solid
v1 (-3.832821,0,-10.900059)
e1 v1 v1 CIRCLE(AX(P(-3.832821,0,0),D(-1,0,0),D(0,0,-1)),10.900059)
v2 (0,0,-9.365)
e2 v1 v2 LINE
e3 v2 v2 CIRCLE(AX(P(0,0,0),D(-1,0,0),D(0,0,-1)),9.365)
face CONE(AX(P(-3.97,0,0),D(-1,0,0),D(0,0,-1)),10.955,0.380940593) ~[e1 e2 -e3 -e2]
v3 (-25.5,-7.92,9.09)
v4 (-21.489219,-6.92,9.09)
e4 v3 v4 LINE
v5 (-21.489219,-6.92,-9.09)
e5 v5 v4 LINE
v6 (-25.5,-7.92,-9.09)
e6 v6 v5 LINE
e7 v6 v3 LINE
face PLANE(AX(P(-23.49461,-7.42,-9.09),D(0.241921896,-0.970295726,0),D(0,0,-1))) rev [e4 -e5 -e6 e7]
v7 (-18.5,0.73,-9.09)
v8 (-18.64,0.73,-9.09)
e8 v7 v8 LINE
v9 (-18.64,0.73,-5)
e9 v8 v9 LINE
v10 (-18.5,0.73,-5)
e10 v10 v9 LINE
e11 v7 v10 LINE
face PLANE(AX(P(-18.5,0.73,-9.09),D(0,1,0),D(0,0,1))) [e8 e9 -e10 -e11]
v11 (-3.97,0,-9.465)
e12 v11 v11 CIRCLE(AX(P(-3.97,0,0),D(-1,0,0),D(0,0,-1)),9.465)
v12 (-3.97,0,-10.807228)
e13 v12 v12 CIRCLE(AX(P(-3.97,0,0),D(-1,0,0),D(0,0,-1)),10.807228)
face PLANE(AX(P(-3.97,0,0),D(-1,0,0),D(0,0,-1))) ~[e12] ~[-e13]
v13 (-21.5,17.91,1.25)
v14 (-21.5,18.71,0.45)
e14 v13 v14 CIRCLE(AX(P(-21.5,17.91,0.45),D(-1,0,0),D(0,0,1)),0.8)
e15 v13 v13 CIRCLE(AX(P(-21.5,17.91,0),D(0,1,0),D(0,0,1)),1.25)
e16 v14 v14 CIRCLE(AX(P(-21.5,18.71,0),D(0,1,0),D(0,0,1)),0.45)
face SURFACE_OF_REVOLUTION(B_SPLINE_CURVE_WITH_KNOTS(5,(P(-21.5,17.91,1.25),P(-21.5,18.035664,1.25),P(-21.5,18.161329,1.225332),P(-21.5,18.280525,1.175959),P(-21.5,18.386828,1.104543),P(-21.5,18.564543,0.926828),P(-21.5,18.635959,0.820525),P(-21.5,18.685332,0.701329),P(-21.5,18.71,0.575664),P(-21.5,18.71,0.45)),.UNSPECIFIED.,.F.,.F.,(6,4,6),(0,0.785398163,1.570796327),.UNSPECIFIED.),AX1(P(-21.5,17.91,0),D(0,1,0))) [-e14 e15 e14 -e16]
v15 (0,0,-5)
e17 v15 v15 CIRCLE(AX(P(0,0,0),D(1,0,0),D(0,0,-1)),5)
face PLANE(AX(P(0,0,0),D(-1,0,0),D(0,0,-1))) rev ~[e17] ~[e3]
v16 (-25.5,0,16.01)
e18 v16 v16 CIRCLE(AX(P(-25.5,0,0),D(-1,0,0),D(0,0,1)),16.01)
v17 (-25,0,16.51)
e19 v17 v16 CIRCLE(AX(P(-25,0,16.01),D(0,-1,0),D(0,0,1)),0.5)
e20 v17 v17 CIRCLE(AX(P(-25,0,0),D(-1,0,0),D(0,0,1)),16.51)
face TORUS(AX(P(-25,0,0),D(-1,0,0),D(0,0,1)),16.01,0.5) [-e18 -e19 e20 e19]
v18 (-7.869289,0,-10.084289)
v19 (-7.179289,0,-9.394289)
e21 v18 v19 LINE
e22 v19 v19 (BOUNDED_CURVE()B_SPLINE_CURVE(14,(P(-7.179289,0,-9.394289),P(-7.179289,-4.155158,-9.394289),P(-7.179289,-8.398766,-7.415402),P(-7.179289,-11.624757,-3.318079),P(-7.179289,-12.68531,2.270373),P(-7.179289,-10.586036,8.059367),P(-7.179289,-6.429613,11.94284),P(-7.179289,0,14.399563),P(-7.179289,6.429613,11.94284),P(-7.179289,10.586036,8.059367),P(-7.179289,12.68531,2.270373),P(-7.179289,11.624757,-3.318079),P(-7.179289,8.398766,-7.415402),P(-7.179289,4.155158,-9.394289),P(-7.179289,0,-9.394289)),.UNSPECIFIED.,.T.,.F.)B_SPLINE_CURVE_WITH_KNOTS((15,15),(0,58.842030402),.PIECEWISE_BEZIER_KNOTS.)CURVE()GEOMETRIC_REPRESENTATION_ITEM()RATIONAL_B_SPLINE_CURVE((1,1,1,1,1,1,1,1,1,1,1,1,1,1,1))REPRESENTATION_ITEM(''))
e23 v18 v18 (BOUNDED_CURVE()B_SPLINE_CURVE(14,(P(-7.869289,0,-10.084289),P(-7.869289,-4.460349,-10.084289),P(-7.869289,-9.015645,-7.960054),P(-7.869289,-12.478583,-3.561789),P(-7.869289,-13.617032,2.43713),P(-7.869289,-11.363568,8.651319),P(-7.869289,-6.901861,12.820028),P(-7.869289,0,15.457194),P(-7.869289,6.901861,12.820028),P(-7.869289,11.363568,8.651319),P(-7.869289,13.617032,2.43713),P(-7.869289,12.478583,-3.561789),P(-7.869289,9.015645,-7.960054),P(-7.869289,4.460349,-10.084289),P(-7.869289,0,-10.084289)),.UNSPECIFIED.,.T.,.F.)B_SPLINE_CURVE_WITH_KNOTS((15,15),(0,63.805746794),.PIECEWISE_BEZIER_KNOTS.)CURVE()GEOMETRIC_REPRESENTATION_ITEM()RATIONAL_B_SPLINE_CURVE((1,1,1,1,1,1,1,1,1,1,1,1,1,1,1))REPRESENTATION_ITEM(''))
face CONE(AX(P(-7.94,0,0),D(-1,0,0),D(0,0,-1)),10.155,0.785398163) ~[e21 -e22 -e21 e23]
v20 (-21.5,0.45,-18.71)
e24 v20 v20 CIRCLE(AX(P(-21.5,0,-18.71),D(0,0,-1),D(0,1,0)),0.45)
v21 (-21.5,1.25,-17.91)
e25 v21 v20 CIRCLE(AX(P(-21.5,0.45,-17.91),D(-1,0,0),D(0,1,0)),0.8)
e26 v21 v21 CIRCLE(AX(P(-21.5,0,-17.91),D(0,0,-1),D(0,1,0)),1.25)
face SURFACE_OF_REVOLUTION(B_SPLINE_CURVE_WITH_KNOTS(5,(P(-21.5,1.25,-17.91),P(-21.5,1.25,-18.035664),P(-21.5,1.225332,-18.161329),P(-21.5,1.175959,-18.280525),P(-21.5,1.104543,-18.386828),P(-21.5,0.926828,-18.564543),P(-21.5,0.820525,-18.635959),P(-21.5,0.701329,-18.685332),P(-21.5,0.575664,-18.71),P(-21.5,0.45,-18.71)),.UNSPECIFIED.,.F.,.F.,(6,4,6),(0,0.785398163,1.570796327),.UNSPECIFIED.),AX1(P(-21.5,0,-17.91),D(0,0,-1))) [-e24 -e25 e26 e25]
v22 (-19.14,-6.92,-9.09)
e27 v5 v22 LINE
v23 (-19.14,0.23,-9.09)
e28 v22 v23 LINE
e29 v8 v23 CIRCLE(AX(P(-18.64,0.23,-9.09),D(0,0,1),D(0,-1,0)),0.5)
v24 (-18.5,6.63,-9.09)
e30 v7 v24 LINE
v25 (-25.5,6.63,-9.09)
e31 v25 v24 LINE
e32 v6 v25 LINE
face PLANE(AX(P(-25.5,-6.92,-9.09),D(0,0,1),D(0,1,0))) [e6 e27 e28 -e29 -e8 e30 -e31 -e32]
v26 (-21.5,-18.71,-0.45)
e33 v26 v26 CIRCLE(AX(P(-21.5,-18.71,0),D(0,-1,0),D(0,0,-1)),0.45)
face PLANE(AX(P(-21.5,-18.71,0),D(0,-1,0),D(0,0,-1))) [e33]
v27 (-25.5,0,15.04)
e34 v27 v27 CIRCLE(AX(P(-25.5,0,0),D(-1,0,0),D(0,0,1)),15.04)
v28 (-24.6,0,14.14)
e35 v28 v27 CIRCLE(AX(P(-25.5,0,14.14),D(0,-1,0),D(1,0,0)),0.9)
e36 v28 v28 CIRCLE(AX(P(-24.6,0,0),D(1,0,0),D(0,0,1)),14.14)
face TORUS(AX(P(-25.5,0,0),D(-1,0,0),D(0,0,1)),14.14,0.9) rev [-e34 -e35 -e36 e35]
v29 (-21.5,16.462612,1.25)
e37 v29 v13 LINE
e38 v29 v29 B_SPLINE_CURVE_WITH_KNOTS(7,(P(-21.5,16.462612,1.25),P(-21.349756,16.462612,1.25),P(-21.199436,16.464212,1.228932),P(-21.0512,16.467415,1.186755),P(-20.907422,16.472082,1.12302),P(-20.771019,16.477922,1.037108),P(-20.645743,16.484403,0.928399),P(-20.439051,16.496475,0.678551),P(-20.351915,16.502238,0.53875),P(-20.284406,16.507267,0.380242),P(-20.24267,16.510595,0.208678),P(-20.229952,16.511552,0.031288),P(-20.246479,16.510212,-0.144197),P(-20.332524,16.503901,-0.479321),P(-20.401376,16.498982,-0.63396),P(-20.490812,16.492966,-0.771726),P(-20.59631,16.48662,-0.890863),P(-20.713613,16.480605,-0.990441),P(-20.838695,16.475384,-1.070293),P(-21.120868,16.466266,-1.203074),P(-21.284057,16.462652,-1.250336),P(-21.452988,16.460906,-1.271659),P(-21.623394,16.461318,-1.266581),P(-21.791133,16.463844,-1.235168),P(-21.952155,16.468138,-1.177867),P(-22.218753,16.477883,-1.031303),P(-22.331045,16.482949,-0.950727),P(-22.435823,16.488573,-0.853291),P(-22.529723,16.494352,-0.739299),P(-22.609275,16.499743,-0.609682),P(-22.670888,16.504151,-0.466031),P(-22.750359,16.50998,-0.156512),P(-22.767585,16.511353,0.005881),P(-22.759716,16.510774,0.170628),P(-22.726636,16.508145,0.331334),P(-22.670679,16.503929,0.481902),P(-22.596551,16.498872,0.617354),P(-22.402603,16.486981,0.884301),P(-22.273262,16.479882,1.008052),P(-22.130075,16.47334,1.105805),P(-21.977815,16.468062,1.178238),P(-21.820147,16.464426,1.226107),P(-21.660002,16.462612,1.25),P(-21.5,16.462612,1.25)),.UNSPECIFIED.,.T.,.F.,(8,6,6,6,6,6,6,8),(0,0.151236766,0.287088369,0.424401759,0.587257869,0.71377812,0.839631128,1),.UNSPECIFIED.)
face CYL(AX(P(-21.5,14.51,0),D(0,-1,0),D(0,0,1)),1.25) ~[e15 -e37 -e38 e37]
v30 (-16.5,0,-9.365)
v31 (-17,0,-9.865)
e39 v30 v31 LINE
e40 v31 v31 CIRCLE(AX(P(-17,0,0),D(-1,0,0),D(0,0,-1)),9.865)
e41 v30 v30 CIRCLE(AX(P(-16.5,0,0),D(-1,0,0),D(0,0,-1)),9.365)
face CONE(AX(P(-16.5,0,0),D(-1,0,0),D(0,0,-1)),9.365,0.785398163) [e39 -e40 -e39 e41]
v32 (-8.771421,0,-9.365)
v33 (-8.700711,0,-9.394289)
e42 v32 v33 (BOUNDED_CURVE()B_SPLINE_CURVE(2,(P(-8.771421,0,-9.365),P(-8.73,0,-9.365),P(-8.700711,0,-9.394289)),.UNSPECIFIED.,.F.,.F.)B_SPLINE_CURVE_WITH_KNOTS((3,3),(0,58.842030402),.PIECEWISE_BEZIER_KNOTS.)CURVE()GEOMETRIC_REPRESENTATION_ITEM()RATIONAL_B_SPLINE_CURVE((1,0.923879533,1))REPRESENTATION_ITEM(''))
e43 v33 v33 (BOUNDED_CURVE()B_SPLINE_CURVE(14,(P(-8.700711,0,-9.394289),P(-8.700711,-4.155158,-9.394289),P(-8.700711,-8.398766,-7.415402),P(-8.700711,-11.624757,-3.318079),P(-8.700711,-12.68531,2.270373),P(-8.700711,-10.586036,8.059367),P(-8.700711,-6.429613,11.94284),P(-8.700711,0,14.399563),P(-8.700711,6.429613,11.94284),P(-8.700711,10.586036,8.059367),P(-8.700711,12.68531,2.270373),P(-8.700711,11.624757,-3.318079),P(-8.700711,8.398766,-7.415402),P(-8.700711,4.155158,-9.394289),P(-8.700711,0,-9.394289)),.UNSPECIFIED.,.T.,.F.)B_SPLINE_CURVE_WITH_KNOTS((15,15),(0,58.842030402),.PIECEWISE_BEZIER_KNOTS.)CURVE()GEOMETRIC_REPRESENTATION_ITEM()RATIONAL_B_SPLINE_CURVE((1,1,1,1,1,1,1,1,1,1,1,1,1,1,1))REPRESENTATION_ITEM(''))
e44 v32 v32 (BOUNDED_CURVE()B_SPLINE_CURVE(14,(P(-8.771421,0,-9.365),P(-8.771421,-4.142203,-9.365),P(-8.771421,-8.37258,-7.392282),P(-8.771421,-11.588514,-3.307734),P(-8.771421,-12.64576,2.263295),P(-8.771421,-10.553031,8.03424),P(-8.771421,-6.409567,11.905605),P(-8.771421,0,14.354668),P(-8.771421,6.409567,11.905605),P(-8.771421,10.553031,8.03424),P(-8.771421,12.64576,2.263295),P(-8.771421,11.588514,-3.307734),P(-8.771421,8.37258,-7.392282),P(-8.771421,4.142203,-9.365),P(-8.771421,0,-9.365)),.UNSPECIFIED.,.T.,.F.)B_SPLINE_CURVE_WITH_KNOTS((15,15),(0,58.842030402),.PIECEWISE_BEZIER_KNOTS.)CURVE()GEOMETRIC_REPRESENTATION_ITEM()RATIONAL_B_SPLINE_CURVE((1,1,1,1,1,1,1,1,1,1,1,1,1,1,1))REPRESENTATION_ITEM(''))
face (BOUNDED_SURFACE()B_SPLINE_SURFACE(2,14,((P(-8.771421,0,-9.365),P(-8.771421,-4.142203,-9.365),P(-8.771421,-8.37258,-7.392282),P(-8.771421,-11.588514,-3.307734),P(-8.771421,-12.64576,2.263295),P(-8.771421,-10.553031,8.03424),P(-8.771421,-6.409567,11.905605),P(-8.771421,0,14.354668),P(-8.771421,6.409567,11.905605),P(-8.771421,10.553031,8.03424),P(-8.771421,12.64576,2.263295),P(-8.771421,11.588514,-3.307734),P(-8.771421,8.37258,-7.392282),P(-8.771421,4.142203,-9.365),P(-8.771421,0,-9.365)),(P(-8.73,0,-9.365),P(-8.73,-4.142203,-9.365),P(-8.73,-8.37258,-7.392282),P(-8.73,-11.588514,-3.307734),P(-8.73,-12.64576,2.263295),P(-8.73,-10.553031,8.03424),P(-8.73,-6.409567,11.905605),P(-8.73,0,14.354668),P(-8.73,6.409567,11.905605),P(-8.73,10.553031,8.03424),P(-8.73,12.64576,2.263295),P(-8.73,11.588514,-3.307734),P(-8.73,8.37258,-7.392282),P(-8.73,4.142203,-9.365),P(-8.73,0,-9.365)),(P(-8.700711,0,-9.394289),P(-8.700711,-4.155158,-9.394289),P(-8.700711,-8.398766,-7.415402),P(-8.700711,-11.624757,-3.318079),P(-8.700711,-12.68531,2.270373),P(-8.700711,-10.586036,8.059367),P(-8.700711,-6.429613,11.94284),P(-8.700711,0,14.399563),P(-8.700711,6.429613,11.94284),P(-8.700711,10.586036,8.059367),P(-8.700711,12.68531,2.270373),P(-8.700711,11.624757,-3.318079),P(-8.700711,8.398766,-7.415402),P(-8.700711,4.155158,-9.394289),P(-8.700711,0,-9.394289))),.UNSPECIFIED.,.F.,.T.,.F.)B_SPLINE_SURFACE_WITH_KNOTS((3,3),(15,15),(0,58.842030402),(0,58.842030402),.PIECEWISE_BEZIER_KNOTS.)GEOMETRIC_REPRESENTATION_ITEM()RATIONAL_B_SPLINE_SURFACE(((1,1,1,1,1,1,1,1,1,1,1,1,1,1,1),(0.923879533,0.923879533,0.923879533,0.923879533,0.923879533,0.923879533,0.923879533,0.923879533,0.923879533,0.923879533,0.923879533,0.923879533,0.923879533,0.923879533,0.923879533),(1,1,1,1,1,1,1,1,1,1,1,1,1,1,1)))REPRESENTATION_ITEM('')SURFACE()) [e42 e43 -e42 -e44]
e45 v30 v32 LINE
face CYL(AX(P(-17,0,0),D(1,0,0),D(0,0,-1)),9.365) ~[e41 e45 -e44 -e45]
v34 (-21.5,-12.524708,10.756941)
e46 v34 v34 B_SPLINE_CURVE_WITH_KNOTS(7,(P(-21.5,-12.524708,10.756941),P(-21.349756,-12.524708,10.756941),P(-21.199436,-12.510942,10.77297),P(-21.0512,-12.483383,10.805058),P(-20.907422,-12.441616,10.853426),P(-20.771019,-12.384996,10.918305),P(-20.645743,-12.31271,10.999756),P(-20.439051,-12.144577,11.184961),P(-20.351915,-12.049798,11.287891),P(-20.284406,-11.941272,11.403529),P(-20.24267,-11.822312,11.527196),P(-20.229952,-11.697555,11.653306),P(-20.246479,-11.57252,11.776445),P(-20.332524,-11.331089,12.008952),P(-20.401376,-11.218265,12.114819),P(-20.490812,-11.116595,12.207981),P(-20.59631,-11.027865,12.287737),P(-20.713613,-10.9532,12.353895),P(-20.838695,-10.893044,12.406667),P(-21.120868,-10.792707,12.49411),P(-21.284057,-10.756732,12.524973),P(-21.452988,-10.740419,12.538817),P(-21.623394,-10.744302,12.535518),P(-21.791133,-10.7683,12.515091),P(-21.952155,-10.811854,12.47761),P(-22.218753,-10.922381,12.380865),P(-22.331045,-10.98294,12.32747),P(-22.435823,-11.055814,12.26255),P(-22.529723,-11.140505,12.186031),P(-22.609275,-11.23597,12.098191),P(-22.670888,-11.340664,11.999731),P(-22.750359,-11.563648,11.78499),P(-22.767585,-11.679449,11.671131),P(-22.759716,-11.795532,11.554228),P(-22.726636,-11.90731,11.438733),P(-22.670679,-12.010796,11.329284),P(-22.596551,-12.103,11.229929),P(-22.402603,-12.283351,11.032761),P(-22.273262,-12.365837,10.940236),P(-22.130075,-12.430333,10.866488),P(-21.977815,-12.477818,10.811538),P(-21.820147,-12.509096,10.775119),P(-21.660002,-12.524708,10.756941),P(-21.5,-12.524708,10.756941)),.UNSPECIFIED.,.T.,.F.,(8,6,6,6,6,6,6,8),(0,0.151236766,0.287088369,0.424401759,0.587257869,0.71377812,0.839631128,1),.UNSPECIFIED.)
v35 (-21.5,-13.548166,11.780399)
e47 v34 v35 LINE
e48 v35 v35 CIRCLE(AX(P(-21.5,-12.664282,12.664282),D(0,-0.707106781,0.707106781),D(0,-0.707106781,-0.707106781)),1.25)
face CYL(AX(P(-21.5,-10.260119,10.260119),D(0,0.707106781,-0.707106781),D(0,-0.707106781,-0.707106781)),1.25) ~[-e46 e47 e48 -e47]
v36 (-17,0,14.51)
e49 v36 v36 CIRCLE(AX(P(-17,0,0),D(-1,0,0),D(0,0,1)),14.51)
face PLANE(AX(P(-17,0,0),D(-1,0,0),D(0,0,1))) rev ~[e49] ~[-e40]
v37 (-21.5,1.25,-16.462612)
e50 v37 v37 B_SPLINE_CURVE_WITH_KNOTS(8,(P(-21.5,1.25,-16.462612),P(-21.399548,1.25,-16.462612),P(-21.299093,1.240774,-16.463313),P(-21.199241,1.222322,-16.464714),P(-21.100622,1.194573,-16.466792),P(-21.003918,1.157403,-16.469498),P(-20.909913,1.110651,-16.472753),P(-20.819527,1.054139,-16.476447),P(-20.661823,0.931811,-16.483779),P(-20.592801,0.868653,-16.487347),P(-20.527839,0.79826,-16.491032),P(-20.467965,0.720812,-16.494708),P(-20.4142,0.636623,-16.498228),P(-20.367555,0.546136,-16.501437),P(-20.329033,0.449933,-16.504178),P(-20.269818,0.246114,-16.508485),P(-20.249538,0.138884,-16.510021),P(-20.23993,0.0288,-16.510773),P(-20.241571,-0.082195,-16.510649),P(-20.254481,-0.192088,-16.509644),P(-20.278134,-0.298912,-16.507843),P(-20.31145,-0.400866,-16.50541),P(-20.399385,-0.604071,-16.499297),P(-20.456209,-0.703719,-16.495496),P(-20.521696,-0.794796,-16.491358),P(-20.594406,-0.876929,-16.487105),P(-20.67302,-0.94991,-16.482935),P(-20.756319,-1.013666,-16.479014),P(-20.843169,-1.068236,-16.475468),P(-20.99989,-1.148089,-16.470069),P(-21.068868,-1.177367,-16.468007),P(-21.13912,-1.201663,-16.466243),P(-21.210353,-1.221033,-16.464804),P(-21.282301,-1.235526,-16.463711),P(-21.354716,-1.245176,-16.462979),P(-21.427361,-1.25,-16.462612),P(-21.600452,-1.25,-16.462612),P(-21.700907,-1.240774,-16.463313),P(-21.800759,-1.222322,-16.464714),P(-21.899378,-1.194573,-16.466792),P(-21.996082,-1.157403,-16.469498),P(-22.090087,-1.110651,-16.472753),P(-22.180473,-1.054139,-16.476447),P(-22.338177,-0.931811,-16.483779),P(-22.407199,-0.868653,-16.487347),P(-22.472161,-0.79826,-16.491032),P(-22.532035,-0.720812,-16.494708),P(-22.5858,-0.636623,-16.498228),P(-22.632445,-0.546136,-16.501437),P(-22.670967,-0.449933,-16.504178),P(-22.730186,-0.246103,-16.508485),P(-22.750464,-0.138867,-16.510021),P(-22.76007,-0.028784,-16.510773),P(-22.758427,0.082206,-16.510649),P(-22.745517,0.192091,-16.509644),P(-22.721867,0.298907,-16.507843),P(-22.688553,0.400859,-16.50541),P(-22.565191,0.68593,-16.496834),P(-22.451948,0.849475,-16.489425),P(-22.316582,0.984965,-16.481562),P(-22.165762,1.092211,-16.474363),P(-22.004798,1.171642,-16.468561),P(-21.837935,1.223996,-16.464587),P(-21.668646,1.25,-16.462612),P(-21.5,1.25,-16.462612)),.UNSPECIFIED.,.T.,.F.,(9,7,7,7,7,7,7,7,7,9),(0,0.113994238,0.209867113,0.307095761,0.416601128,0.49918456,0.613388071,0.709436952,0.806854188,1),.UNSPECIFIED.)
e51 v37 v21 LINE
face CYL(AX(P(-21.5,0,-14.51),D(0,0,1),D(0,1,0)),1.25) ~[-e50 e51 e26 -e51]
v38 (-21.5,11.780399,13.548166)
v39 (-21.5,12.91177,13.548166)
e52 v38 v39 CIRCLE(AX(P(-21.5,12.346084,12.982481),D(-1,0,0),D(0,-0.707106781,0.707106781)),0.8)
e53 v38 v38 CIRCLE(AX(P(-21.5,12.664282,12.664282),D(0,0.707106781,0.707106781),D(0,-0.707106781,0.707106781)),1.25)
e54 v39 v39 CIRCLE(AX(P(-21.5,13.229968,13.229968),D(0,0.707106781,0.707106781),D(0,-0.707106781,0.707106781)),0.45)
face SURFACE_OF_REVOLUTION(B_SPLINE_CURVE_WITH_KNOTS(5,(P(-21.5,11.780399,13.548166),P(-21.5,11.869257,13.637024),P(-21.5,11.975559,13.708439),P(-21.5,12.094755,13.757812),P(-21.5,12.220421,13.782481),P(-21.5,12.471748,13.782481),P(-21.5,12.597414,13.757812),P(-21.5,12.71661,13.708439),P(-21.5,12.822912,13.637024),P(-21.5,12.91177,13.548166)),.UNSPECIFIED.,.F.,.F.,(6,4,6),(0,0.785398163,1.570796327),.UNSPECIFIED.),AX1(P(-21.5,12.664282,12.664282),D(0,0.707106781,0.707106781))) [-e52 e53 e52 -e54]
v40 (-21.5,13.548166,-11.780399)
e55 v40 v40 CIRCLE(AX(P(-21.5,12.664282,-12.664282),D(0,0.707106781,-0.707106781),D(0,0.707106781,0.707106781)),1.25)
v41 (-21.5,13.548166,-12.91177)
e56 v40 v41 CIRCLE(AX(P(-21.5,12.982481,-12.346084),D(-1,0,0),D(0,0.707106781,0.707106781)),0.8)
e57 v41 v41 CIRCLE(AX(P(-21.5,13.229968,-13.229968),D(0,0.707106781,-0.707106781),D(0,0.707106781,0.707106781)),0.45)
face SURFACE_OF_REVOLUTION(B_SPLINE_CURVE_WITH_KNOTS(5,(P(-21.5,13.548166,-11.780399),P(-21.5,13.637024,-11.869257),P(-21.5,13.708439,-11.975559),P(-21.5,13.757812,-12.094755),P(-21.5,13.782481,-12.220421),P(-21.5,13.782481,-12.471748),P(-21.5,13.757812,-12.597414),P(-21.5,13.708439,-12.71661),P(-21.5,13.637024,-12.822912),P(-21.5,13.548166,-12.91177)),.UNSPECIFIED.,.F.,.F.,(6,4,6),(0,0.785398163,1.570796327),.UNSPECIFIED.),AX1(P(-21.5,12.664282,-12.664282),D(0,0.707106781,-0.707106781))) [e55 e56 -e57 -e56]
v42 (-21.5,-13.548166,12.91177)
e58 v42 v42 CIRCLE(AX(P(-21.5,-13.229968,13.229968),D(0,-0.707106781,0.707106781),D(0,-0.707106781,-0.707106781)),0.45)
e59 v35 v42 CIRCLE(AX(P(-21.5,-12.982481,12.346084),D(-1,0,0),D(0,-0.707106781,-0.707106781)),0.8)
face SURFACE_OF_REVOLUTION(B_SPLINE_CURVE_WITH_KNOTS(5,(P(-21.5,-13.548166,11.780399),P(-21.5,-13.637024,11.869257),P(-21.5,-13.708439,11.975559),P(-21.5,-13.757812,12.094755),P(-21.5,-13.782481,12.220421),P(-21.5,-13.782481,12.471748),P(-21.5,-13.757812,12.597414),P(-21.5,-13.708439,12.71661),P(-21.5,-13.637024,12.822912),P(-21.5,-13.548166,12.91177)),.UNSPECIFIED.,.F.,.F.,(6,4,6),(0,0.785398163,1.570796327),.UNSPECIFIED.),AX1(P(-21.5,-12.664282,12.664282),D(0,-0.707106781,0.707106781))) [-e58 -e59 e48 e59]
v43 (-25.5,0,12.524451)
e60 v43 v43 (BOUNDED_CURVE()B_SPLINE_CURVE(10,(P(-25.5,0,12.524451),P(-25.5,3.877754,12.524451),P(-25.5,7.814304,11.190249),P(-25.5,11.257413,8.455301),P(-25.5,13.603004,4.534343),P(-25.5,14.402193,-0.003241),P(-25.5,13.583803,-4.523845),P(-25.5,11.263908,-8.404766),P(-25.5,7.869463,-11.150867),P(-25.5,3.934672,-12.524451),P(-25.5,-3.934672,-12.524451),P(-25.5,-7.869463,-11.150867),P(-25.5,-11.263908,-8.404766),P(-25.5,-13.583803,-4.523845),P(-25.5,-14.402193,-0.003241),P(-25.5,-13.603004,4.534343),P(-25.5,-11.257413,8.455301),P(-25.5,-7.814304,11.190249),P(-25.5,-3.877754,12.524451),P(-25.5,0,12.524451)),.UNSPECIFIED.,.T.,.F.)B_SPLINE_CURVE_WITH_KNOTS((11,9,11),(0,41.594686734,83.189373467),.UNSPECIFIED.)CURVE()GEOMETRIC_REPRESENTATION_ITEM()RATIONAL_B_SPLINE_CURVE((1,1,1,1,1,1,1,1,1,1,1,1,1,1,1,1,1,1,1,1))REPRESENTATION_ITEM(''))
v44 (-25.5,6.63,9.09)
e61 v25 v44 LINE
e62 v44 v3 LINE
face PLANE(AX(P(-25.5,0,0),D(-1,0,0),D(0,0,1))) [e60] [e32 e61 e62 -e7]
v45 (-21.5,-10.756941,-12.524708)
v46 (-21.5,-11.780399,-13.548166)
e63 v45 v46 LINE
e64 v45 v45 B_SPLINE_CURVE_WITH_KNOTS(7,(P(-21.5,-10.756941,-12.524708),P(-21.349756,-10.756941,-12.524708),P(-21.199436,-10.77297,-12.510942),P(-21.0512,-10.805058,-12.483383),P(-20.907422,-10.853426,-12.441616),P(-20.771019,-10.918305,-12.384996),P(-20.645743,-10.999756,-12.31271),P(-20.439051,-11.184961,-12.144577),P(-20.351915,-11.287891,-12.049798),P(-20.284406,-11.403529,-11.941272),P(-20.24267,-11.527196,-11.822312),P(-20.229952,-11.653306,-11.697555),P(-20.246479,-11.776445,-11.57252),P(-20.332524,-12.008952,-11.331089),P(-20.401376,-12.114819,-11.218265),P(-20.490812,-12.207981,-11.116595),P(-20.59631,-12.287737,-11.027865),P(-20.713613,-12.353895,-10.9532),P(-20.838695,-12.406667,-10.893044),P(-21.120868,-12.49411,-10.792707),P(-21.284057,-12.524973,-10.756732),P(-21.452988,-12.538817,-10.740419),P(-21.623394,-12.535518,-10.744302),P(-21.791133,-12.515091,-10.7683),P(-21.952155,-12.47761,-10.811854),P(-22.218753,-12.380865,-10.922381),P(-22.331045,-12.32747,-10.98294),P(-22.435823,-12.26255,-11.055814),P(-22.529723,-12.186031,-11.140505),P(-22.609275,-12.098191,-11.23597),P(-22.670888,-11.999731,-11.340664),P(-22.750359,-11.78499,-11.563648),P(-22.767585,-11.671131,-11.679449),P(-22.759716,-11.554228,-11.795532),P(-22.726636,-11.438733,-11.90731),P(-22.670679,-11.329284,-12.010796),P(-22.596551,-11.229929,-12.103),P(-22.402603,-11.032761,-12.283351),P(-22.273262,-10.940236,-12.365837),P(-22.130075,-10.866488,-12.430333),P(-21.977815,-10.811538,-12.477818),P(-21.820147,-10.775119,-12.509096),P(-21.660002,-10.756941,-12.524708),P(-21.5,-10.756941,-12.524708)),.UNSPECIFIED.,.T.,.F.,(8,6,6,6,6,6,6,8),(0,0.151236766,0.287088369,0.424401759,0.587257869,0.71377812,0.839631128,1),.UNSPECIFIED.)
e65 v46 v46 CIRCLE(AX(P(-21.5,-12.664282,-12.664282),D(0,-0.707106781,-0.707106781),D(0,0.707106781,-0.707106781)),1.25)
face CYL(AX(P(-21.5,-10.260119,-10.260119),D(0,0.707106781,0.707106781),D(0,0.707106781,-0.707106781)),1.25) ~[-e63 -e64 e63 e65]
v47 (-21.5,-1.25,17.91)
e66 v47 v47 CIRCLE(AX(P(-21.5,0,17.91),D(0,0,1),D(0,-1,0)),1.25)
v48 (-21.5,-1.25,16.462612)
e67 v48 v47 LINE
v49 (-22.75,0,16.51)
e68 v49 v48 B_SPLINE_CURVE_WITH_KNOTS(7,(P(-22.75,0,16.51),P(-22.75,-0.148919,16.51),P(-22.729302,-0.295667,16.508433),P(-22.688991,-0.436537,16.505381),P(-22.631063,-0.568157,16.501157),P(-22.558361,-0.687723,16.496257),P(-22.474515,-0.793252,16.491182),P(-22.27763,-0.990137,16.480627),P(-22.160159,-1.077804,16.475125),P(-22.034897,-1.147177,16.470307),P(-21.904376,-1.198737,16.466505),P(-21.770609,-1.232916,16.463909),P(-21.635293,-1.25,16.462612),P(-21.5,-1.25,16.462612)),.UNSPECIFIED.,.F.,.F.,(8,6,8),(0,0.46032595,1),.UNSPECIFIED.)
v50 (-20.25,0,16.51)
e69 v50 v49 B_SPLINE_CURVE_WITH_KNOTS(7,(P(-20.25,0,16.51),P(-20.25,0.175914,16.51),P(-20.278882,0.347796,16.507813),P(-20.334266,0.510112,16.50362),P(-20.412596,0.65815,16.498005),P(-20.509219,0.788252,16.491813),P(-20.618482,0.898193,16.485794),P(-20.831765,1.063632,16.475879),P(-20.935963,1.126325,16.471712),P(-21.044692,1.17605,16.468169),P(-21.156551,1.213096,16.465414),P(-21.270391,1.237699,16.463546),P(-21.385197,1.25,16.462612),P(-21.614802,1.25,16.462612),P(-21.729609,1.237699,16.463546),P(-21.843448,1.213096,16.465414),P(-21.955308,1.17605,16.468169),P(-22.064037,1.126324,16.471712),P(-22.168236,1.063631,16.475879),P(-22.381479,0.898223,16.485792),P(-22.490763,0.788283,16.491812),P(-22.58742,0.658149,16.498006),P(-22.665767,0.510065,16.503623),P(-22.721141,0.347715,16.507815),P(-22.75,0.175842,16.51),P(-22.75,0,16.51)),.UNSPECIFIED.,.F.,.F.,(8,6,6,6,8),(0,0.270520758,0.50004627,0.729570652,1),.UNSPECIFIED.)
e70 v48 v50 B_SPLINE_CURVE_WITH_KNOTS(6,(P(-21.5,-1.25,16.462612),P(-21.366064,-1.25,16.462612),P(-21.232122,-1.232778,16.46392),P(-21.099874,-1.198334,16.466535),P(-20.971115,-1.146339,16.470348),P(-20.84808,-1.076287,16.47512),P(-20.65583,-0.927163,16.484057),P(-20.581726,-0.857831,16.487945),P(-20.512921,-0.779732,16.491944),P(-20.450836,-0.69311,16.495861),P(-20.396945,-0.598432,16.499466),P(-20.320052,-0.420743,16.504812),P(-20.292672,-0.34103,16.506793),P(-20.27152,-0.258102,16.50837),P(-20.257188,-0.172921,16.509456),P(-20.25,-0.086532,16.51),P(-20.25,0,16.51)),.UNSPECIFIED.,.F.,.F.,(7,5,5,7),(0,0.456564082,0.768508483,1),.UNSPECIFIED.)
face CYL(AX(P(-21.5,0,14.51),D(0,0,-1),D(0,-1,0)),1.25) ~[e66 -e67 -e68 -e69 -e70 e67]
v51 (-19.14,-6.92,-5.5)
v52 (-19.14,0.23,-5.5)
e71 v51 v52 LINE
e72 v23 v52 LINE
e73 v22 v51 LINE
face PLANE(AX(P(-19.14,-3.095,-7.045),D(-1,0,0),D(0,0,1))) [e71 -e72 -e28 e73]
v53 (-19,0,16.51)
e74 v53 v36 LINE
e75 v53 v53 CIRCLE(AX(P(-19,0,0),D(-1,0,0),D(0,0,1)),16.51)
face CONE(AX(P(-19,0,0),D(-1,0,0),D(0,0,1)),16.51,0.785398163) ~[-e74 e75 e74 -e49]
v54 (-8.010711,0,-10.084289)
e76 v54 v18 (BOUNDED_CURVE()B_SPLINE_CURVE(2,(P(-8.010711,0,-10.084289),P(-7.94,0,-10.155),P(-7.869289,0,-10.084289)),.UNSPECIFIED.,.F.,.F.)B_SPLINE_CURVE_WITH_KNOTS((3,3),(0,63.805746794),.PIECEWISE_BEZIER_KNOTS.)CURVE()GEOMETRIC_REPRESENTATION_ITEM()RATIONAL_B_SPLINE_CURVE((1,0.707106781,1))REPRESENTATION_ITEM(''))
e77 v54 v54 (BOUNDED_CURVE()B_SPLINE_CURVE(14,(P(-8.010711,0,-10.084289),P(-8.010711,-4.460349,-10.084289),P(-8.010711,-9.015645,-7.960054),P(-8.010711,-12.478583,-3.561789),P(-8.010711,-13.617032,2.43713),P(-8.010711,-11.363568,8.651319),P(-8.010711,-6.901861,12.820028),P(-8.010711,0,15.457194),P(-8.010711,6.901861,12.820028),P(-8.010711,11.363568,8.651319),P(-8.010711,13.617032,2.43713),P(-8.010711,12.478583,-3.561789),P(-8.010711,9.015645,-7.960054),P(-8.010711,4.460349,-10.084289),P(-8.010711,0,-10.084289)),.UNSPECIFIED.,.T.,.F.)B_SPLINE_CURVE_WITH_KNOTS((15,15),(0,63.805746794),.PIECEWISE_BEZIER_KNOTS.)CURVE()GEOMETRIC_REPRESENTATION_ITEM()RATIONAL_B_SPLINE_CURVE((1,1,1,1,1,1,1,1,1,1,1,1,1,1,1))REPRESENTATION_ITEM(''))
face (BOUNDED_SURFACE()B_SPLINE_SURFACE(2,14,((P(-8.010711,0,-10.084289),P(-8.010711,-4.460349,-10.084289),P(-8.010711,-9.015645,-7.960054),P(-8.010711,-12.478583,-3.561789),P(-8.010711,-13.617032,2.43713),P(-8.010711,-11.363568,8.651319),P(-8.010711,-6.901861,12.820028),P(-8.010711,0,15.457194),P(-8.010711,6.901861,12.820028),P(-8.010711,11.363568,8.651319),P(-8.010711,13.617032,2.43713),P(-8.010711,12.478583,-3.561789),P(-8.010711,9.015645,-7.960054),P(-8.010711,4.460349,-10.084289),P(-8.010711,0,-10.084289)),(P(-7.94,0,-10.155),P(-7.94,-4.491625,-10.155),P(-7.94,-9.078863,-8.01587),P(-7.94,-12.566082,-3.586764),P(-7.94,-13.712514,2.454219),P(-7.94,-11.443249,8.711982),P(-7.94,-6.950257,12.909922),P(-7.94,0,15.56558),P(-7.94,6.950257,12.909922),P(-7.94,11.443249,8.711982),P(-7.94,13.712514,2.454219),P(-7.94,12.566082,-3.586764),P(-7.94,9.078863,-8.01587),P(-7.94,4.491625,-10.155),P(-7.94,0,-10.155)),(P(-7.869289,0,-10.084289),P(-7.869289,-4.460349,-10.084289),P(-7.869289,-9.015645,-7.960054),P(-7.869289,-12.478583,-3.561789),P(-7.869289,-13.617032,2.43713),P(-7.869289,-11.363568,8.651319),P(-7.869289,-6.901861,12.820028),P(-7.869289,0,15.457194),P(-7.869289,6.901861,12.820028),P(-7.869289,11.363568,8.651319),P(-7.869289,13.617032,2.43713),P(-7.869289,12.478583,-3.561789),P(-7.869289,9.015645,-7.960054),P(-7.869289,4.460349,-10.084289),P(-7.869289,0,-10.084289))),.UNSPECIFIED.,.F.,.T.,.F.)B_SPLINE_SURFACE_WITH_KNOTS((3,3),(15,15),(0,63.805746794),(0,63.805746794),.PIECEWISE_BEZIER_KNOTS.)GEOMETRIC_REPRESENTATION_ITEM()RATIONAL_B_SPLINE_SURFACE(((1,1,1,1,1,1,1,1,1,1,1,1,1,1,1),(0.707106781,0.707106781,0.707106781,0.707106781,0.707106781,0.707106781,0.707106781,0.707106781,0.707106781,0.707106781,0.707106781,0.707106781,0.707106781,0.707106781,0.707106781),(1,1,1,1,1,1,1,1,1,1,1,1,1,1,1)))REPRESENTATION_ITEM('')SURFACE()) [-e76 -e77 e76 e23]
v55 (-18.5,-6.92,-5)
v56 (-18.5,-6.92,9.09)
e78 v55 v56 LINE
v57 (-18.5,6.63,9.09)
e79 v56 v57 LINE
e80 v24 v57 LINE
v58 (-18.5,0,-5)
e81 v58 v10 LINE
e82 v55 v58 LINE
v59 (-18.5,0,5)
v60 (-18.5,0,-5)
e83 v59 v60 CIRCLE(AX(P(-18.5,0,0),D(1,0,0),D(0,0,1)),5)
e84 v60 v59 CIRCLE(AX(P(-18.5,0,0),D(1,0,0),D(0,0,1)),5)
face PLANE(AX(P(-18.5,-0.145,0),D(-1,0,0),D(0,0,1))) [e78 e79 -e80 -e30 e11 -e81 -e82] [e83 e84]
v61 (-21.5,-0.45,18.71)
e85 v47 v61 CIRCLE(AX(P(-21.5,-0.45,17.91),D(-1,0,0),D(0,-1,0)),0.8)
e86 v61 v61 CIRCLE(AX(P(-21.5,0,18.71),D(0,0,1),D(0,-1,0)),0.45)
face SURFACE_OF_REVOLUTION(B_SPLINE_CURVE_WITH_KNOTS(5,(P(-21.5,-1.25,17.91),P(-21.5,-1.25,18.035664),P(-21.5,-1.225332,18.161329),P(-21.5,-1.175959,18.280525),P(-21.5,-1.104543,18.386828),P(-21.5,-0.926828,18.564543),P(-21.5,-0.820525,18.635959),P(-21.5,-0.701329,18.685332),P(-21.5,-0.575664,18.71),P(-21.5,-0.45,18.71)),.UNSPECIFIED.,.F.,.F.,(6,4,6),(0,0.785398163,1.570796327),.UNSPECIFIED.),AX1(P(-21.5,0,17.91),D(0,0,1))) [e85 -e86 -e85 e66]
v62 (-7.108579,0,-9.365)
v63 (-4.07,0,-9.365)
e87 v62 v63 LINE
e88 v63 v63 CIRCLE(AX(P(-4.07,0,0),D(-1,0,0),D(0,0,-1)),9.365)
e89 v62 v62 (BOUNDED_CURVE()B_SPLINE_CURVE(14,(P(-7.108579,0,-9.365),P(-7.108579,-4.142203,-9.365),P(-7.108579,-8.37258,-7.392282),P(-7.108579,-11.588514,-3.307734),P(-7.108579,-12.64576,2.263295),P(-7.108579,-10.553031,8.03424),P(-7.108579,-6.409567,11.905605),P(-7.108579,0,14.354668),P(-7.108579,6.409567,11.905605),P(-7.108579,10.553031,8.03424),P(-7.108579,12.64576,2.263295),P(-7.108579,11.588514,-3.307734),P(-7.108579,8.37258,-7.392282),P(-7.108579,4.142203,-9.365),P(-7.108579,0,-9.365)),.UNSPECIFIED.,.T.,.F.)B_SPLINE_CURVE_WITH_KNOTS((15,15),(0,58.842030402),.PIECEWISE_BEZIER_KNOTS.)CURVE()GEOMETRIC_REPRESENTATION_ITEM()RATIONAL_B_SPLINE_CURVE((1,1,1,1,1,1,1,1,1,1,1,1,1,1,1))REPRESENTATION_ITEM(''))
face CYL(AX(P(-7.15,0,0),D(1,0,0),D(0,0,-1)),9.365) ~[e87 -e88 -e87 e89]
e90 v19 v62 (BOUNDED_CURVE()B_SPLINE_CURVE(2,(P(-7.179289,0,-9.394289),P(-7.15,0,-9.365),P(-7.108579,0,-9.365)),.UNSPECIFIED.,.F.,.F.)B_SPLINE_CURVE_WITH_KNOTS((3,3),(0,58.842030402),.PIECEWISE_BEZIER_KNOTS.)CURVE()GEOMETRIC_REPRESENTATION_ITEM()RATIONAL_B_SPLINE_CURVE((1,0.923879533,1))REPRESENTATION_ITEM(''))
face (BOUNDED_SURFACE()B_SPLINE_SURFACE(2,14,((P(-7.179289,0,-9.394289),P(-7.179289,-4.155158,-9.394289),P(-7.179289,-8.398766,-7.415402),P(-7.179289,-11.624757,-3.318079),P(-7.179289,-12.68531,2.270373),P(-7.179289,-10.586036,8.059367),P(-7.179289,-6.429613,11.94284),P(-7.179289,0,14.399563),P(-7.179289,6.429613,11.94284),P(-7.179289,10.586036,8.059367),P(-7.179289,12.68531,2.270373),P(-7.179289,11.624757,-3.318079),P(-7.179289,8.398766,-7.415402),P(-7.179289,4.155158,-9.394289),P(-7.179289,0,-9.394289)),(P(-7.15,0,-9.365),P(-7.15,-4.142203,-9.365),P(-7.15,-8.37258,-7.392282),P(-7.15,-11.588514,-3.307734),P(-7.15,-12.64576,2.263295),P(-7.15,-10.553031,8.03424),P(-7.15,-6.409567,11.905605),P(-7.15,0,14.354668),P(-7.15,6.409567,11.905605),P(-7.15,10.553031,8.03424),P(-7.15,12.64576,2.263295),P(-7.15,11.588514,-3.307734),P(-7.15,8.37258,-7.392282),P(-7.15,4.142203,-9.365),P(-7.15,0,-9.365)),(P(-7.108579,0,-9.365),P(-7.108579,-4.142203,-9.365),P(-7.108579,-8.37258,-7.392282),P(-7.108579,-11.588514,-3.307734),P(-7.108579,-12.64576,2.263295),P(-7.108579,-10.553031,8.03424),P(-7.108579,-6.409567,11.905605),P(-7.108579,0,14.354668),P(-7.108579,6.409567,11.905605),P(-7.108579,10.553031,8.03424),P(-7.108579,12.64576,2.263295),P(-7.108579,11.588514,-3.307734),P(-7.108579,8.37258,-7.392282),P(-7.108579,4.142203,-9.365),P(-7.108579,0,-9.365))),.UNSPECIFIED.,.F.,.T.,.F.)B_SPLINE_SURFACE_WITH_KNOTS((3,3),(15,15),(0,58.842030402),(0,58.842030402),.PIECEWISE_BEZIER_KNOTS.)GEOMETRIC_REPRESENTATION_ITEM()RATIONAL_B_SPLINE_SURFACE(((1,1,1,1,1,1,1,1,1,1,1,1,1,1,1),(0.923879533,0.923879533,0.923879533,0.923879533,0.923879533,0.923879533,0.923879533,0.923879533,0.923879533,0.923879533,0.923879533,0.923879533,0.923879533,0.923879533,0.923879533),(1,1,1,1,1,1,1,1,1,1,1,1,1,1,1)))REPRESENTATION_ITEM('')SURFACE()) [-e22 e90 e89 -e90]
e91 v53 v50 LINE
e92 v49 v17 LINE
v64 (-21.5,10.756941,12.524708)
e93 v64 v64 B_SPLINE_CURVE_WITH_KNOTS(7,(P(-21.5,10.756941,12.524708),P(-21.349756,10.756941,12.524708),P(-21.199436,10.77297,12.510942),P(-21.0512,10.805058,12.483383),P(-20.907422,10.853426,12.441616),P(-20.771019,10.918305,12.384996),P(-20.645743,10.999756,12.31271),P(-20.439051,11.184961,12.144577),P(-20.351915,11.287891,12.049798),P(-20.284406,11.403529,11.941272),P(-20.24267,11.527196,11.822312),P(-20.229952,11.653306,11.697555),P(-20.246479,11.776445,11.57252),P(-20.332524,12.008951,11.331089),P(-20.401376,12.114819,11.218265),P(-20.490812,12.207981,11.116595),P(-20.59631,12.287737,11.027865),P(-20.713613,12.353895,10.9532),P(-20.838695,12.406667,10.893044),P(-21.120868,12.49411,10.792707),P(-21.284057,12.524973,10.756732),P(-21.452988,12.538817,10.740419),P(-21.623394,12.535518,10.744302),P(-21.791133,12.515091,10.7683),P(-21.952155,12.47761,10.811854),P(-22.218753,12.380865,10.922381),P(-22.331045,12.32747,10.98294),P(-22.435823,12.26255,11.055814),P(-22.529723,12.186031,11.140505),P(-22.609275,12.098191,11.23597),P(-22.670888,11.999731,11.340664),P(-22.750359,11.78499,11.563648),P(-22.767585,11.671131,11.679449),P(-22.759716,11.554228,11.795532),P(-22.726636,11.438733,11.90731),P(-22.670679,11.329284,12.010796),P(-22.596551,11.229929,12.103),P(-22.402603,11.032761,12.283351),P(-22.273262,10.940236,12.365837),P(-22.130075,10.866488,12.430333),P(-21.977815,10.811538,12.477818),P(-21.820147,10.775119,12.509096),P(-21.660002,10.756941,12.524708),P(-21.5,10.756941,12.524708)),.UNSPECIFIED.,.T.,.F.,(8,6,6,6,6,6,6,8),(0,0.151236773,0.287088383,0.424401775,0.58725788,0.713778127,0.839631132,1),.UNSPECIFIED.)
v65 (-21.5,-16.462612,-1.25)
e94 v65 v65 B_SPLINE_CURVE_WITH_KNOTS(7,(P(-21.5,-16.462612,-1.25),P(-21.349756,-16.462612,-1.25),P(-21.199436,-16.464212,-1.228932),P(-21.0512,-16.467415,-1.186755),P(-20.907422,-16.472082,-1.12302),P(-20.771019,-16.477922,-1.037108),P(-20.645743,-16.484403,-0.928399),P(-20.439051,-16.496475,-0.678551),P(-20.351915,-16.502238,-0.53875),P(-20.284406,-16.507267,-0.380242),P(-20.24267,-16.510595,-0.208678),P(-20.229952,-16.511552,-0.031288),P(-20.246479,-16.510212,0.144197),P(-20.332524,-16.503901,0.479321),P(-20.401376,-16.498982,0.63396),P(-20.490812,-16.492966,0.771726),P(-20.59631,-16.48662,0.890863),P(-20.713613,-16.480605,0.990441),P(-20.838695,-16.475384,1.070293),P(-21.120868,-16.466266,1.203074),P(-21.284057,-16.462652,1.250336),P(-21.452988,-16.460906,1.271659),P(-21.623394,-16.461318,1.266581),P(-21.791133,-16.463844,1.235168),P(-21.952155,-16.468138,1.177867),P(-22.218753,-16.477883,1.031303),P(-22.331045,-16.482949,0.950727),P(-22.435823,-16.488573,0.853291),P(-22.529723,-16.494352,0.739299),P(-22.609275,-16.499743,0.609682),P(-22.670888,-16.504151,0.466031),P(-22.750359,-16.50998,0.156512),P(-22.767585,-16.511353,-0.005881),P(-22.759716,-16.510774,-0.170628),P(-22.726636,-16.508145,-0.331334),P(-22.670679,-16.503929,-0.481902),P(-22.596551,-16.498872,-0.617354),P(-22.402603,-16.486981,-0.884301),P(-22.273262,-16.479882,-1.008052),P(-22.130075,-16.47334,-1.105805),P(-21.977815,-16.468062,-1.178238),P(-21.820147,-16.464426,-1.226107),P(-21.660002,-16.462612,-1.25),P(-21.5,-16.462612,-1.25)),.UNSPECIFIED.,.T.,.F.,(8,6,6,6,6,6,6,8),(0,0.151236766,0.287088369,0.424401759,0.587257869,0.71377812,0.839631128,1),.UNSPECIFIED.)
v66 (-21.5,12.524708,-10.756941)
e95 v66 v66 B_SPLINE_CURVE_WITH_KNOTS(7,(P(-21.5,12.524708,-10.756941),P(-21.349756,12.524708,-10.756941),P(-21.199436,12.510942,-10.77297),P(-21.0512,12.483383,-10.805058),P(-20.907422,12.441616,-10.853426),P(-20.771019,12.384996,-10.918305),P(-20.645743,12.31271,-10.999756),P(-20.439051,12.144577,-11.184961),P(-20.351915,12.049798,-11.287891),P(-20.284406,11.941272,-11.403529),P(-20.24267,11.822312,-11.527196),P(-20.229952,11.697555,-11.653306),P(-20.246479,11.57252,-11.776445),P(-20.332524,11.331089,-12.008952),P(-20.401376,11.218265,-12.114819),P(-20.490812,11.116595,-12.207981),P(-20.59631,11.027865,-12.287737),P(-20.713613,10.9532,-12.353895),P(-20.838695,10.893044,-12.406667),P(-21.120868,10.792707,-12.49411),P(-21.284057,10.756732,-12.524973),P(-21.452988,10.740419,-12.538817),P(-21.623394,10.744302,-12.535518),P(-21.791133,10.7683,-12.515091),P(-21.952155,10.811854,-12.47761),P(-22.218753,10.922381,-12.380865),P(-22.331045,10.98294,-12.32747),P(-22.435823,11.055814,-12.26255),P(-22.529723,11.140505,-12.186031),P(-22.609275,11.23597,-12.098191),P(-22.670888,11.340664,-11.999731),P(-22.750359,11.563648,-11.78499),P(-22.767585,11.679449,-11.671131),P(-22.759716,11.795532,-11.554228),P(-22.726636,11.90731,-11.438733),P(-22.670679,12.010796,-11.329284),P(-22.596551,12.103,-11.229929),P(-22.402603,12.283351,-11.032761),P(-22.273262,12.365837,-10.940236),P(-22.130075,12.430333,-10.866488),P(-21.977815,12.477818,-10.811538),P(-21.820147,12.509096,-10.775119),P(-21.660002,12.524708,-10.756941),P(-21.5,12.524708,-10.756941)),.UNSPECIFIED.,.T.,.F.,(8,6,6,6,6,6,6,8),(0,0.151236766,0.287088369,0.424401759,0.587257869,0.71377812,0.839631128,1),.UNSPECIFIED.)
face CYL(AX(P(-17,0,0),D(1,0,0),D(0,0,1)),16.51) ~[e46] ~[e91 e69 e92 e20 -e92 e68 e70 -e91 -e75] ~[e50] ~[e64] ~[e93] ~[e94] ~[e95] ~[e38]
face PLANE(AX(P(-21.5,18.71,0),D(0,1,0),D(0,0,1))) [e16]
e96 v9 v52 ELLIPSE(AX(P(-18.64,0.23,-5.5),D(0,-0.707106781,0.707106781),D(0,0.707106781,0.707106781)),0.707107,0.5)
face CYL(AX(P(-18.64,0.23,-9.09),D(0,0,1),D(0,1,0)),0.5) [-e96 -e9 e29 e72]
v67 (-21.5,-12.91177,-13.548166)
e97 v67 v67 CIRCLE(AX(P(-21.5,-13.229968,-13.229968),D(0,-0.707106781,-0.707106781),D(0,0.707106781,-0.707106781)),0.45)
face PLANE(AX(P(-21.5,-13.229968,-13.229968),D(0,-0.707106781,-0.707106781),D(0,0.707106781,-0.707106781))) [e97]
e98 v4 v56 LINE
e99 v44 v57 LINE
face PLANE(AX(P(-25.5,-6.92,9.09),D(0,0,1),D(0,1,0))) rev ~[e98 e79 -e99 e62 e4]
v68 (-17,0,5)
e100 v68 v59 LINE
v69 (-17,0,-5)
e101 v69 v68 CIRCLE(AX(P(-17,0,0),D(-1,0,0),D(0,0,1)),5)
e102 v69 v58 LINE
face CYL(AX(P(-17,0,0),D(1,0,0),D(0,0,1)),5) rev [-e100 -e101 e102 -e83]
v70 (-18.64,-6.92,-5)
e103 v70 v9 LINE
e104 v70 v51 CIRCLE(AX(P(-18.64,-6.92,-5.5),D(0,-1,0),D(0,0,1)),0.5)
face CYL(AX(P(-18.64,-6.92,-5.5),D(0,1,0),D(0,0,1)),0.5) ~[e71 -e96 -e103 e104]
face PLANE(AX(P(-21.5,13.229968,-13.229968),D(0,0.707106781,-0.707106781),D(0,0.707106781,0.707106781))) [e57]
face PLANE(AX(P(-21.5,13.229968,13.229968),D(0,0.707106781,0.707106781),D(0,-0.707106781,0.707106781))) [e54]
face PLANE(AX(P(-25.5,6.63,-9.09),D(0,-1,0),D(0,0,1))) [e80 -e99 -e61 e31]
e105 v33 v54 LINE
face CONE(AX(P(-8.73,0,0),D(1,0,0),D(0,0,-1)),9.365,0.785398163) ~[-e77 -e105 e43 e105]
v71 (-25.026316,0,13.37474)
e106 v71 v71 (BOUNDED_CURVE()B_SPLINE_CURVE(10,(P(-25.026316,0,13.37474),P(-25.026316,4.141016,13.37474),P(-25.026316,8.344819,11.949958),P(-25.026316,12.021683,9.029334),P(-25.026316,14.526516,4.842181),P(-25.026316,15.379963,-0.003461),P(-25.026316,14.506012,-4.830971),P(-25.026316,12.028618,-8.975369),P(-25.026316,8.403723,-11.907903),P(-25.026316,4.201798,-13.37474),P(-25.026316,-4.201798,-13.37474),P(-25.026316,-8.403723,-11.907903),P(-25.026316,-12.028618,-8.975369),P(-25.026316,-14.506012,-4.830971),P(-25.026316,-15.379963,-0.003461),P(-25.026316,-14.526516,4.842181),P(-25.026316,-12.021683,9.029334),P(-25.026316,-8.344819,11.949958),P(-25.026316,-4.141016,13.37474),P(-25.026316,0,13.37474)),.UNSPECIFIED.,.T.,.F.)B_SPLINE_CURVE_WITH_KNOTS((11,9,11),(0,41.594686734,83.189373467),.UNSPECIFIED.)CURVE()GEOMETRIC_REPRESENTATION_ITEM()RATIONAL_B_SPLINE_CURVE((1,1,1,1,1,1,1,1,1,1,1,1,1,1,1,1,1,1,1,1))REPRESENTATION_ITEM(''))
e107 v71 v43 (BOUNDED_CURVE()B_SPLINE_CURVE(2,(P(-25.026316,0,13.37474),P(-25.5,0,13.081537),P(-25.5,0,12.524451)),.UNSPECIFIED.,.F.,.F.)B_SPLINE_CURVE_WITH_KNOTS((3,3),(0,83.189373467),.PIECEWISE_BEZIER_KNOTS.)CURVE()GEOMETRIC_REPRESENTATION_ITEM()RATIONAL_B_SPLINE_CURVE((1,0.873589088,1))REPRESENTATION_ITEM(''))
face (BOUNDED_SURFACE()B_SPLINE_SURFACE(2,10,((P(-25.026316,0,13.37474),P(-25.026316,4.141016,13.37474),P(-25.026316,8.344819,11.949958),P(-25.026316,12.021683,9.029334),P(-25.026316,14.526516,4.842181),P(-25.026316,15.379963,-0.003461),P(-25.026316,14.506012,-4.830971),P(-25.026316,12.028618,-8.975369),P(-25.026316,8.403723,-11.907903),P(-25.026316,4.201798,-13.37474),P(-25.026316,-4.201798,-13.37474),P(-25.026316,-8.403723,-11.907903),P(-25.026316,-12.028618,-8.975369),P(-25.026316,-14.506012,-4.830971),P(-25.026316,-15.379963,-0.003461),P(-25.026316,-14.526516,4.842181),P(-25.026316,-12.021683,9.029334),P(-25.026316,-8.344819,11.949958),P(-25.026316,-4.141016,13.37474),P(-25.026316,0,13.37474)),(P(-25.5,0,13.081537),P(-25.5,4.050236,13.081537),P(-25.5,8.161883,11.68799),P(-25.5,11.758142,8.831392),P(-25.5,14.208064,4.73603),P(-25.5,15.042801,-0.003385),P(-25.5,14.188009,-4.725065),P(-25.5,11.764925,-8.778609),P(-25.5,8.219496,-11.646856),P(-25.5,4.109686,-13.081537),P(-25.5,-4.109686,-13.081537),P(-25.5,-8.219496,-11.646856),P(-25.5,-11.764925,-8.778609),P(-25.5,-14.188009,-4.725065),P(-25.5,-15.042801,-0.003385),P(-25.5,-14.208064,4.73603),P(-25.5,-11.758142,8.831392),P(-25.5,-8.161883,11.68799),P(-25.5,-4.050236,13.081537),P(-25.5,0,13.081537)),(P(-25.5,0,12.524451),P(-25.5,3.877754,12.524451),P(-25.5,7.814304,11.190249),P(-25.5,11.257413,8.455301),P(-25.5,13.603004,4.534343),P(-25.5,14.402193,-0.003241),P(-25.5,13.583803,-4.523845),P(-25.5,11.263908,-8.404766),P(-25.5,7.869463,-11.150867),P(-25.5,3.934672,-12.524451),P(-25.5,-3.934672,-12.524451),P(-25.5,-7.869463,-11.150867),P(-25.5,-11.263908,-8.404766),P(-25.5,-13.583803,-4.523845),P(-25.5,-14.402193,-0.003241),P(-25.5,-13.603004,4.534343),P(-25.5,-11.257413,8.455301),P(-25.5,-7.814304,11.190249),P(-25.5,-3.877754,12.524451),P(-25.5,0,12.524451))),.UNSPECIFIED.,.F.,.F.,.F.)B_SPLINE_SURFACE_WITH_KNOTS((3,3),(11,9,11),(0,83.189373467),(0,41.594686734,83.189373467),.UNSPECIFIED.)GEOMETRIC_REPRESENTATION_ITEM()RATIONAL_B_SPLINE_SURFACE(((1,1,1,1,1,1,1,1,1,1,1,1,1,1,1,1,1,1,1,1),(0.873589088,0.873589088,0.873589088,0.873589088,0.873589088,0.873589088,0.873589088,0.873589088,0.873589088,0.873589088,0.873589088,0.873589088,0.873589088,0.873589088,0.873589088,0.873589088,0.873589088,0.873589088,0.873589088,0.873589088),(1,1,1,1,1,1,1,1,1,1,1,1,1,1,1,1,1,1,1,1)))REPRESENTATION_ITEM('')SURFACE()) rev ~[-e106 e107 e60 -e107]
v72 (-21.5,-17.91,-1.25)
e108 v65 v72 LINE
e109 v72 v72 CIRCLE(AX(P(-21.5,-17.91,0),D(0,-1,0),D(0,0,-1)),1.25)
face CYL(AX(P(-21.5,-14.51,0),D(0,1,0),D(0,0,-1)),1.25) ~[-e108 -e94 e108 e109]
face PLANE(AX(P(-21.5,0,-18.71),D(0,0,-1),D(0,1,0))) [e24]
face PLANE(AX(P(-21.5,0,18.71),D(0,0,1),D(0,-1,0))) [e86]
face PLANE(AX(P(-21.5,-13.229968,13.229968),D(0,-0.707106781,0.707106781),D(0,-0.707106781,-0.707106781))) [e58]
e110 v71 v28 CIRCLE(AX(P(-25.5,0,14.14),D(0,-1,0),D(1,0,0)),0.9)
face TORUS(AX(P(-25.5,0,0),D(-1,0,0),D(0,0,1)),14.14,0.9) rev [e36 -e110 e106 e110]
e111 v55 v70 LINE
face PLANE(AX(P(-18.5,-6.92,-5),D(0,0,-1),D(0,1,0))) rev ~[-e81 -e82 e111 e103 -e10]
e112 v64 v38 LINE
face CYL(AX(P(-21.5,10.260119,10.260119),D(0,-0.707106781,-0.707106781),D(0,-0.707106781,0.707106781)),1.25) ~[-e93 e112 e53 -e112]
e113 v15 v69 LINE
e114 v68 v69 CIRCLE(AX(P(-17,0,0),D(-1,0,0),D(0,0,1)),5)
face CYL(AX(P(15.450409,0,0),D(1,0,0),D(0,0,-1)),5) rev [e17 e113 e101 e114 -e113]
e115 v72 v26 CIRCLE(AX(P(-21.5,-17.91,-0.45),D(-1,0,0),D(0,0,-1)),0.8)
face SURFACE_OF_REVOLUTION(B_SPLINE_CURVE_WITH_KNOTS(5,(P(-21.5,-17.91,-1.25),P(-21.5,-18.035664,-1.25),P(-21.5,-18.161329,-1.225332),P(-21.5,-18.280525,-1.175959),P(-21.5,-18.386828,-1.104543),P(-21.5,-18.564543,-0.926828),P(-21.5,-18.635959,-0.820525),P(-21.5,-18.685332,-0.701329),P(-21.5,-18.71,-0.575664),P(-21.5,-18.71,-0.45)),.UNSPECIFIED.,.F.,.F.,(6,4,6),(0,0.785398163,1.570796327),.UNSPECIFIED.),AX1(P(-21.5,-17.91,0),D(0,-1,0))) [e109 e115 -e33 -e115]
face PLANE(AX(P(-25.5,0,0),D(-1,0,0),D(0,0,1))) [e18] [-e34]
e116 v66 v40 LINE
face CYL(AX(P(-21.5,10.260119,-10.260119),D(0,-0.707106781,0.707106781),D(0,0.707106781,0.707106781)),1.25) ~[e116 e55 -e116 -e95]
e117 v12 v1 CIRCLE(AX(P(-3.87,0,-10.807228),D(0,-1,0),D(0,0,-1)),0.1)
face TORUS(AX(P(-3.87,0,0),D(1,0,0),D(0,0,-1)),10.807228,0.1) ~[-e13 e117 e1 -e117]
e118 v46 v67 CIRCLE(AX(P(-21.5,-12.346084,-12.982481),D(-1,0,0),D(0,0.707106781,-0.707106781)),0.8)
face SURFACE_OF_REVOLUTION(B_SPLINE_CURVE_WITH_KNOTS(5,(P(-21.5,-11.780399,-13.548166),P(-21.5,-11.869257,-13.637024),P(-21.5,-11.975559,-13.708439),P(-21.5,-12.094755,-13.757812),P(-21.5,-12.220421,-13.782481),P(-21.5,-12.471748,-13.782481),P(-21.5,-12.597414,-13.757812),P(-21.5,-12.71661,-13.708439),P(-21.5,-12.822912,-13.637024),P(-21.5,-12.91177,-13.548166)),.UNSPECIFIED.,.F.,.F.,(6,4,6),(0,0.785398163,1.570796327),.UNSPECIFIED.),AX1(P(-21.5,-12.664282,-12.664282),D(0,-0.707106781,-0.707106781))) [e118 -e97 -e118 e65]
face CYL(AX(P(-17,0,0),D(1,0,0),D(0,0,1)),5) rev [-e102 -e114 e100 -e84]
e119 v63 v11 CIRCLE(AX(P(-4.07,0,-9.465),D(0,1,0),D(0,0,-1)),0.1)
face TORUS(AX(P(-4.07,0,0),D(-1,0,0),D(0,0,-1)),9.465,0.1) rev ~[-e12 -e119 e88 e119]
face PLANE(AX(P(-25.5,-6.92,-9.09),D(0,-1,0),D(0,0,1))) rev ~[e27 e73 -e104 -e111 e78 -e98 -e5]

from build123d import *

# Parameters (mm, degrees)
SKETCH2_R                = 16.51
SKETCH2_R_2              = 9.365
SKETCH2_R_3              = 5
BOSS_EXTRUDE1_DEPTH      = 8.5
SKETCH4_W                = 18.18
SKETCH4_H                = 13.55
CUT_EXTRUDE1_DEPTH       = 7
SKETCH6_R                = 0.9
FILLET1_R                = 1
BOSS_EXTRUDE2_START      = -2
SKETCH7_R                = 1.25
BOSS_EXTRUDE2_DEPTH      = 4.2
FILLET2_R                = 0.8
CIRPATTERN1_COUNT        = 8
FILLET2_OF_CIRPATTERN1_R = 0.8
CHAMFER1_SIZE            = 2
FILLET3_R                = 0.5
FILLET4_R                = 0.1
CHAMFER2_SIZE            = 0.5
CUT_EXTRUDE2_DEPTH       = 32.450408582
CUT_EXTRUDE2_DEPTH_BACK  = 32.450408582
SKETCH2_3_R              = 5
CHAMFER3_SIZE            = 1
CHAMFER3_SIZE2           = 4.010780934
SKETCH8_W                = 4.09
SKETCH8_H                = 7.65
BOSS_EXTRUDE3_DEPTH      = 0.64
FILLET5_R                = 0.5


with BuildPart() as part:
    # Sketch1 → Revolve1 (revolve)
    with BuildSketch(Plane(origin=(0, 0, 0), x_dir=(1, 0, 0), z_dir=(0, 1, 0))):
        Polygon((0, 0), (-17, 0), (-17, 9.365), (-8.73, 9.365), (-7.94, 10.155), (-7.15, 9.365), (-3.97, 9.365), (-3.97, 10.955), (0, 9.365), align=None)
    revolve(axis=Axis((0, 0, 0), (-1, 0, 0)))

    # Sketch2 → Boss-Extrude1 (add)
    # profile 1 of 2: a face of its own
    with BuildSketch(Plane.ZY.offset(17)):
        Circle(SKETCH2_R)
        with Locations(Location((0, 0, 0), (0, 0, 180))):
            Circle(SKETCH2_R_2, mode=Mode.SUBTRACT)
    # profile 2 of 2: a face of its own
    with BuildSketch(Plane.ZY.offset(17)):
        with Locations(Location((0, 0, 0), (0, 0, 180))):
            Circle(SKETCH2_R_2)
        Circle(SKETCH2_R_3, mode=Mode.SUBTRACT)
    extrude(amount=BOSS_EXTRUDE1_DEPTH)

    # Sketch4 → Cut-Extrude1 (cut)
    with BuildSketch(Plane.ZY.offset(25.5)):
        with Locations((0, -0.145)):
            Rectangle(SKETCH4_W, SKETCH4_H)
    extrude(amount=-CUT_EXTRUDE1_DEPTH, mode=Mode.SUBTRACT)

    # Sketch6 → Cut-Revolve1 (revolve, cut)
    with BuildSketch(Plane.XY, mode=Mode.PRIVATE) as cut_revolve1_sk:
        with Locations((-25.5, 14.14)):
            Circle(SKETCH6_R)
    revolve(cut_revolve1_sk.sketch.rotate(Axis((-35.027065124, 0, 0), (1, 0, 0)), 90), axis=Axis((-35.027065124, 0, 0), (1, 0, 0)), mode=Mode.SUBTRACT)

    # Fillet1
    fillet1_edges = [part.edges().sort_by_distance(p)[0] for p in [
        (-25.5, 0, -13.24),
    ]]
    fillet(fillet1_edges, radius=FILLET1_R)

    # Sketch7 → Boss-Extrude2 (add)
    with BuildSketch(Plane(origin=(0, 16.51, 0), x_dir=(1, 0, 0), z_dir=(0, 1, 0)).offset(BOSS_EXTRUDE2_START)):
        with Locations(Location((-21.5, 0, 0), (0, 0, 270))):
            Circle(SKETCH7_R)
    boss_extrude2 = extrude(amount=BOSS_EXTRUDE2_DEPTH)

    # Fillet2
    fillet2_edges = [part.edges().sort_by_distance(p)[0] for p in [
        (-21.5, 18.71, -1.25),
    ]]
    fillet(fillet2_edges, radius=FILLET2_R)

    # CirPattern1: Boss-Extrude2 ×8 about axis
    cirpattern1_axis = Axis((0, 0, 0), (1, 0, 0))
    for i in range(1, CIRPATTERN1_COUNT):
        add(boss_extrude2.rotate(cirpattern1_axis, i * 360 / CIRPATTERN1_COUNT))

    # Fillet2 of CirPattern1
    fillet2_of_cirpattern1_edges = [part.edges().sort_by_distance(p)[0] for p in [
        (-21.5, 14.113851352, 12.3460844),
        (-21.5, 1.25, 18.71),
        (-21.5, -12.3460844, 14.113851352),
        (-21.5, -18.71, 1.25),
        (-21.5, -14.113851352, -12.3460844),
        (-21.5, -1.25, -18.71),
        (-21.5, 12.3460844, -14.113851352),
    ]]
    fillet(fillet2_of_cirpattern1_edges, radius=FILLET2_OF_CIRPATTERN1_R)

    # Chamfer1
    chamfer1_edges = [part.edges().sort_by_distance(p)[0] for p in [
        (-17, 0, -16.51),
    ]]
    chamfer(chamfer1_edges, length=CHAMFER1_SIZE)

    # Fillet3
    fillet3_edges = [part.edges().sort_by_distance(p)[0] for p in [
        (-25.5, 0, -16.51),
    ]]
    fillet(fillet3_edges, radius=FILLET3_R)

    # Fillet4
    fillet4_edges = [part.edges().sort_by_distance(p)[0] for p in [
        (-3.97, 0, 9.365),
        (-3.97, 0, 10.955),
        (-8.73, 0, 9.365),
        (-7.94, 0, 10.155),
        (-7.15, 0, 9.365),
    ]]
    fillet(fillet4_edges, radius=FILLET4_R)

    # Chamfer2
    chamfer2_edges = [part.edges().sort_by_distance(p)[0] for p in [
        (-17, 0, 9.365),
    ]]
    chamfer(chamfer2_edges, length=CHAMFER2_SIZE)

    # Sketch2<3> → Cut-Extrude2 (cut, two sides: drawn at the far end of the back side and taken through both)
    with BuildSketch(Plane.ZY.offset(17).offset(-CUT_EXTRUDE2_DEPTH_BACK)):
        with Locations(Location((0, 0, 0), (0, 0, 180))):
            Circle(SKETCH2_3_R)
    extrude(amount=CUT_EXTRUDE2_DEPTH + CUT_EXTRUDE2_DEPTH_BACK, mode=Mode.SUBTRACT)

    # Chamfer3
    chamfer3_edges = [part.edges().sort_by_distance(p)[0] for p in [
        (-25.5, -6.92, 0),
    ]]
    chamfer3_side = [part.faces().sort_by_distance(p)[0] for p in [
        (-25.5, 0, -12.170205593),
    ]]
    chamfer(chamfer3_edges, length=CHAMFER3_SIZE, length2=CHAMFER3_SIZE2, reference=chamfer3_side[0])

    # Sketch8 → Boss-Extrude3 (add)
    with BuildSketch(Plane.ZY.offset(18.5)):
        with Locations((-7.045, -3.095)):
            Rectangle(SKETCH8_W, SKETCH8_H)
    extrude(amount=BOSS_EXTRUDE3_DEPTH)

    # Fillet5
    fillet5_edges = [part.edges().sort_by_distance(p)[0] for p in [
        (-19.14, -3.095, -5),
        (-19.14, 0.73, -7.045),
    ]]
    fillet(fillet5_edges, radius=FILLET5_R)


solid = part.part
